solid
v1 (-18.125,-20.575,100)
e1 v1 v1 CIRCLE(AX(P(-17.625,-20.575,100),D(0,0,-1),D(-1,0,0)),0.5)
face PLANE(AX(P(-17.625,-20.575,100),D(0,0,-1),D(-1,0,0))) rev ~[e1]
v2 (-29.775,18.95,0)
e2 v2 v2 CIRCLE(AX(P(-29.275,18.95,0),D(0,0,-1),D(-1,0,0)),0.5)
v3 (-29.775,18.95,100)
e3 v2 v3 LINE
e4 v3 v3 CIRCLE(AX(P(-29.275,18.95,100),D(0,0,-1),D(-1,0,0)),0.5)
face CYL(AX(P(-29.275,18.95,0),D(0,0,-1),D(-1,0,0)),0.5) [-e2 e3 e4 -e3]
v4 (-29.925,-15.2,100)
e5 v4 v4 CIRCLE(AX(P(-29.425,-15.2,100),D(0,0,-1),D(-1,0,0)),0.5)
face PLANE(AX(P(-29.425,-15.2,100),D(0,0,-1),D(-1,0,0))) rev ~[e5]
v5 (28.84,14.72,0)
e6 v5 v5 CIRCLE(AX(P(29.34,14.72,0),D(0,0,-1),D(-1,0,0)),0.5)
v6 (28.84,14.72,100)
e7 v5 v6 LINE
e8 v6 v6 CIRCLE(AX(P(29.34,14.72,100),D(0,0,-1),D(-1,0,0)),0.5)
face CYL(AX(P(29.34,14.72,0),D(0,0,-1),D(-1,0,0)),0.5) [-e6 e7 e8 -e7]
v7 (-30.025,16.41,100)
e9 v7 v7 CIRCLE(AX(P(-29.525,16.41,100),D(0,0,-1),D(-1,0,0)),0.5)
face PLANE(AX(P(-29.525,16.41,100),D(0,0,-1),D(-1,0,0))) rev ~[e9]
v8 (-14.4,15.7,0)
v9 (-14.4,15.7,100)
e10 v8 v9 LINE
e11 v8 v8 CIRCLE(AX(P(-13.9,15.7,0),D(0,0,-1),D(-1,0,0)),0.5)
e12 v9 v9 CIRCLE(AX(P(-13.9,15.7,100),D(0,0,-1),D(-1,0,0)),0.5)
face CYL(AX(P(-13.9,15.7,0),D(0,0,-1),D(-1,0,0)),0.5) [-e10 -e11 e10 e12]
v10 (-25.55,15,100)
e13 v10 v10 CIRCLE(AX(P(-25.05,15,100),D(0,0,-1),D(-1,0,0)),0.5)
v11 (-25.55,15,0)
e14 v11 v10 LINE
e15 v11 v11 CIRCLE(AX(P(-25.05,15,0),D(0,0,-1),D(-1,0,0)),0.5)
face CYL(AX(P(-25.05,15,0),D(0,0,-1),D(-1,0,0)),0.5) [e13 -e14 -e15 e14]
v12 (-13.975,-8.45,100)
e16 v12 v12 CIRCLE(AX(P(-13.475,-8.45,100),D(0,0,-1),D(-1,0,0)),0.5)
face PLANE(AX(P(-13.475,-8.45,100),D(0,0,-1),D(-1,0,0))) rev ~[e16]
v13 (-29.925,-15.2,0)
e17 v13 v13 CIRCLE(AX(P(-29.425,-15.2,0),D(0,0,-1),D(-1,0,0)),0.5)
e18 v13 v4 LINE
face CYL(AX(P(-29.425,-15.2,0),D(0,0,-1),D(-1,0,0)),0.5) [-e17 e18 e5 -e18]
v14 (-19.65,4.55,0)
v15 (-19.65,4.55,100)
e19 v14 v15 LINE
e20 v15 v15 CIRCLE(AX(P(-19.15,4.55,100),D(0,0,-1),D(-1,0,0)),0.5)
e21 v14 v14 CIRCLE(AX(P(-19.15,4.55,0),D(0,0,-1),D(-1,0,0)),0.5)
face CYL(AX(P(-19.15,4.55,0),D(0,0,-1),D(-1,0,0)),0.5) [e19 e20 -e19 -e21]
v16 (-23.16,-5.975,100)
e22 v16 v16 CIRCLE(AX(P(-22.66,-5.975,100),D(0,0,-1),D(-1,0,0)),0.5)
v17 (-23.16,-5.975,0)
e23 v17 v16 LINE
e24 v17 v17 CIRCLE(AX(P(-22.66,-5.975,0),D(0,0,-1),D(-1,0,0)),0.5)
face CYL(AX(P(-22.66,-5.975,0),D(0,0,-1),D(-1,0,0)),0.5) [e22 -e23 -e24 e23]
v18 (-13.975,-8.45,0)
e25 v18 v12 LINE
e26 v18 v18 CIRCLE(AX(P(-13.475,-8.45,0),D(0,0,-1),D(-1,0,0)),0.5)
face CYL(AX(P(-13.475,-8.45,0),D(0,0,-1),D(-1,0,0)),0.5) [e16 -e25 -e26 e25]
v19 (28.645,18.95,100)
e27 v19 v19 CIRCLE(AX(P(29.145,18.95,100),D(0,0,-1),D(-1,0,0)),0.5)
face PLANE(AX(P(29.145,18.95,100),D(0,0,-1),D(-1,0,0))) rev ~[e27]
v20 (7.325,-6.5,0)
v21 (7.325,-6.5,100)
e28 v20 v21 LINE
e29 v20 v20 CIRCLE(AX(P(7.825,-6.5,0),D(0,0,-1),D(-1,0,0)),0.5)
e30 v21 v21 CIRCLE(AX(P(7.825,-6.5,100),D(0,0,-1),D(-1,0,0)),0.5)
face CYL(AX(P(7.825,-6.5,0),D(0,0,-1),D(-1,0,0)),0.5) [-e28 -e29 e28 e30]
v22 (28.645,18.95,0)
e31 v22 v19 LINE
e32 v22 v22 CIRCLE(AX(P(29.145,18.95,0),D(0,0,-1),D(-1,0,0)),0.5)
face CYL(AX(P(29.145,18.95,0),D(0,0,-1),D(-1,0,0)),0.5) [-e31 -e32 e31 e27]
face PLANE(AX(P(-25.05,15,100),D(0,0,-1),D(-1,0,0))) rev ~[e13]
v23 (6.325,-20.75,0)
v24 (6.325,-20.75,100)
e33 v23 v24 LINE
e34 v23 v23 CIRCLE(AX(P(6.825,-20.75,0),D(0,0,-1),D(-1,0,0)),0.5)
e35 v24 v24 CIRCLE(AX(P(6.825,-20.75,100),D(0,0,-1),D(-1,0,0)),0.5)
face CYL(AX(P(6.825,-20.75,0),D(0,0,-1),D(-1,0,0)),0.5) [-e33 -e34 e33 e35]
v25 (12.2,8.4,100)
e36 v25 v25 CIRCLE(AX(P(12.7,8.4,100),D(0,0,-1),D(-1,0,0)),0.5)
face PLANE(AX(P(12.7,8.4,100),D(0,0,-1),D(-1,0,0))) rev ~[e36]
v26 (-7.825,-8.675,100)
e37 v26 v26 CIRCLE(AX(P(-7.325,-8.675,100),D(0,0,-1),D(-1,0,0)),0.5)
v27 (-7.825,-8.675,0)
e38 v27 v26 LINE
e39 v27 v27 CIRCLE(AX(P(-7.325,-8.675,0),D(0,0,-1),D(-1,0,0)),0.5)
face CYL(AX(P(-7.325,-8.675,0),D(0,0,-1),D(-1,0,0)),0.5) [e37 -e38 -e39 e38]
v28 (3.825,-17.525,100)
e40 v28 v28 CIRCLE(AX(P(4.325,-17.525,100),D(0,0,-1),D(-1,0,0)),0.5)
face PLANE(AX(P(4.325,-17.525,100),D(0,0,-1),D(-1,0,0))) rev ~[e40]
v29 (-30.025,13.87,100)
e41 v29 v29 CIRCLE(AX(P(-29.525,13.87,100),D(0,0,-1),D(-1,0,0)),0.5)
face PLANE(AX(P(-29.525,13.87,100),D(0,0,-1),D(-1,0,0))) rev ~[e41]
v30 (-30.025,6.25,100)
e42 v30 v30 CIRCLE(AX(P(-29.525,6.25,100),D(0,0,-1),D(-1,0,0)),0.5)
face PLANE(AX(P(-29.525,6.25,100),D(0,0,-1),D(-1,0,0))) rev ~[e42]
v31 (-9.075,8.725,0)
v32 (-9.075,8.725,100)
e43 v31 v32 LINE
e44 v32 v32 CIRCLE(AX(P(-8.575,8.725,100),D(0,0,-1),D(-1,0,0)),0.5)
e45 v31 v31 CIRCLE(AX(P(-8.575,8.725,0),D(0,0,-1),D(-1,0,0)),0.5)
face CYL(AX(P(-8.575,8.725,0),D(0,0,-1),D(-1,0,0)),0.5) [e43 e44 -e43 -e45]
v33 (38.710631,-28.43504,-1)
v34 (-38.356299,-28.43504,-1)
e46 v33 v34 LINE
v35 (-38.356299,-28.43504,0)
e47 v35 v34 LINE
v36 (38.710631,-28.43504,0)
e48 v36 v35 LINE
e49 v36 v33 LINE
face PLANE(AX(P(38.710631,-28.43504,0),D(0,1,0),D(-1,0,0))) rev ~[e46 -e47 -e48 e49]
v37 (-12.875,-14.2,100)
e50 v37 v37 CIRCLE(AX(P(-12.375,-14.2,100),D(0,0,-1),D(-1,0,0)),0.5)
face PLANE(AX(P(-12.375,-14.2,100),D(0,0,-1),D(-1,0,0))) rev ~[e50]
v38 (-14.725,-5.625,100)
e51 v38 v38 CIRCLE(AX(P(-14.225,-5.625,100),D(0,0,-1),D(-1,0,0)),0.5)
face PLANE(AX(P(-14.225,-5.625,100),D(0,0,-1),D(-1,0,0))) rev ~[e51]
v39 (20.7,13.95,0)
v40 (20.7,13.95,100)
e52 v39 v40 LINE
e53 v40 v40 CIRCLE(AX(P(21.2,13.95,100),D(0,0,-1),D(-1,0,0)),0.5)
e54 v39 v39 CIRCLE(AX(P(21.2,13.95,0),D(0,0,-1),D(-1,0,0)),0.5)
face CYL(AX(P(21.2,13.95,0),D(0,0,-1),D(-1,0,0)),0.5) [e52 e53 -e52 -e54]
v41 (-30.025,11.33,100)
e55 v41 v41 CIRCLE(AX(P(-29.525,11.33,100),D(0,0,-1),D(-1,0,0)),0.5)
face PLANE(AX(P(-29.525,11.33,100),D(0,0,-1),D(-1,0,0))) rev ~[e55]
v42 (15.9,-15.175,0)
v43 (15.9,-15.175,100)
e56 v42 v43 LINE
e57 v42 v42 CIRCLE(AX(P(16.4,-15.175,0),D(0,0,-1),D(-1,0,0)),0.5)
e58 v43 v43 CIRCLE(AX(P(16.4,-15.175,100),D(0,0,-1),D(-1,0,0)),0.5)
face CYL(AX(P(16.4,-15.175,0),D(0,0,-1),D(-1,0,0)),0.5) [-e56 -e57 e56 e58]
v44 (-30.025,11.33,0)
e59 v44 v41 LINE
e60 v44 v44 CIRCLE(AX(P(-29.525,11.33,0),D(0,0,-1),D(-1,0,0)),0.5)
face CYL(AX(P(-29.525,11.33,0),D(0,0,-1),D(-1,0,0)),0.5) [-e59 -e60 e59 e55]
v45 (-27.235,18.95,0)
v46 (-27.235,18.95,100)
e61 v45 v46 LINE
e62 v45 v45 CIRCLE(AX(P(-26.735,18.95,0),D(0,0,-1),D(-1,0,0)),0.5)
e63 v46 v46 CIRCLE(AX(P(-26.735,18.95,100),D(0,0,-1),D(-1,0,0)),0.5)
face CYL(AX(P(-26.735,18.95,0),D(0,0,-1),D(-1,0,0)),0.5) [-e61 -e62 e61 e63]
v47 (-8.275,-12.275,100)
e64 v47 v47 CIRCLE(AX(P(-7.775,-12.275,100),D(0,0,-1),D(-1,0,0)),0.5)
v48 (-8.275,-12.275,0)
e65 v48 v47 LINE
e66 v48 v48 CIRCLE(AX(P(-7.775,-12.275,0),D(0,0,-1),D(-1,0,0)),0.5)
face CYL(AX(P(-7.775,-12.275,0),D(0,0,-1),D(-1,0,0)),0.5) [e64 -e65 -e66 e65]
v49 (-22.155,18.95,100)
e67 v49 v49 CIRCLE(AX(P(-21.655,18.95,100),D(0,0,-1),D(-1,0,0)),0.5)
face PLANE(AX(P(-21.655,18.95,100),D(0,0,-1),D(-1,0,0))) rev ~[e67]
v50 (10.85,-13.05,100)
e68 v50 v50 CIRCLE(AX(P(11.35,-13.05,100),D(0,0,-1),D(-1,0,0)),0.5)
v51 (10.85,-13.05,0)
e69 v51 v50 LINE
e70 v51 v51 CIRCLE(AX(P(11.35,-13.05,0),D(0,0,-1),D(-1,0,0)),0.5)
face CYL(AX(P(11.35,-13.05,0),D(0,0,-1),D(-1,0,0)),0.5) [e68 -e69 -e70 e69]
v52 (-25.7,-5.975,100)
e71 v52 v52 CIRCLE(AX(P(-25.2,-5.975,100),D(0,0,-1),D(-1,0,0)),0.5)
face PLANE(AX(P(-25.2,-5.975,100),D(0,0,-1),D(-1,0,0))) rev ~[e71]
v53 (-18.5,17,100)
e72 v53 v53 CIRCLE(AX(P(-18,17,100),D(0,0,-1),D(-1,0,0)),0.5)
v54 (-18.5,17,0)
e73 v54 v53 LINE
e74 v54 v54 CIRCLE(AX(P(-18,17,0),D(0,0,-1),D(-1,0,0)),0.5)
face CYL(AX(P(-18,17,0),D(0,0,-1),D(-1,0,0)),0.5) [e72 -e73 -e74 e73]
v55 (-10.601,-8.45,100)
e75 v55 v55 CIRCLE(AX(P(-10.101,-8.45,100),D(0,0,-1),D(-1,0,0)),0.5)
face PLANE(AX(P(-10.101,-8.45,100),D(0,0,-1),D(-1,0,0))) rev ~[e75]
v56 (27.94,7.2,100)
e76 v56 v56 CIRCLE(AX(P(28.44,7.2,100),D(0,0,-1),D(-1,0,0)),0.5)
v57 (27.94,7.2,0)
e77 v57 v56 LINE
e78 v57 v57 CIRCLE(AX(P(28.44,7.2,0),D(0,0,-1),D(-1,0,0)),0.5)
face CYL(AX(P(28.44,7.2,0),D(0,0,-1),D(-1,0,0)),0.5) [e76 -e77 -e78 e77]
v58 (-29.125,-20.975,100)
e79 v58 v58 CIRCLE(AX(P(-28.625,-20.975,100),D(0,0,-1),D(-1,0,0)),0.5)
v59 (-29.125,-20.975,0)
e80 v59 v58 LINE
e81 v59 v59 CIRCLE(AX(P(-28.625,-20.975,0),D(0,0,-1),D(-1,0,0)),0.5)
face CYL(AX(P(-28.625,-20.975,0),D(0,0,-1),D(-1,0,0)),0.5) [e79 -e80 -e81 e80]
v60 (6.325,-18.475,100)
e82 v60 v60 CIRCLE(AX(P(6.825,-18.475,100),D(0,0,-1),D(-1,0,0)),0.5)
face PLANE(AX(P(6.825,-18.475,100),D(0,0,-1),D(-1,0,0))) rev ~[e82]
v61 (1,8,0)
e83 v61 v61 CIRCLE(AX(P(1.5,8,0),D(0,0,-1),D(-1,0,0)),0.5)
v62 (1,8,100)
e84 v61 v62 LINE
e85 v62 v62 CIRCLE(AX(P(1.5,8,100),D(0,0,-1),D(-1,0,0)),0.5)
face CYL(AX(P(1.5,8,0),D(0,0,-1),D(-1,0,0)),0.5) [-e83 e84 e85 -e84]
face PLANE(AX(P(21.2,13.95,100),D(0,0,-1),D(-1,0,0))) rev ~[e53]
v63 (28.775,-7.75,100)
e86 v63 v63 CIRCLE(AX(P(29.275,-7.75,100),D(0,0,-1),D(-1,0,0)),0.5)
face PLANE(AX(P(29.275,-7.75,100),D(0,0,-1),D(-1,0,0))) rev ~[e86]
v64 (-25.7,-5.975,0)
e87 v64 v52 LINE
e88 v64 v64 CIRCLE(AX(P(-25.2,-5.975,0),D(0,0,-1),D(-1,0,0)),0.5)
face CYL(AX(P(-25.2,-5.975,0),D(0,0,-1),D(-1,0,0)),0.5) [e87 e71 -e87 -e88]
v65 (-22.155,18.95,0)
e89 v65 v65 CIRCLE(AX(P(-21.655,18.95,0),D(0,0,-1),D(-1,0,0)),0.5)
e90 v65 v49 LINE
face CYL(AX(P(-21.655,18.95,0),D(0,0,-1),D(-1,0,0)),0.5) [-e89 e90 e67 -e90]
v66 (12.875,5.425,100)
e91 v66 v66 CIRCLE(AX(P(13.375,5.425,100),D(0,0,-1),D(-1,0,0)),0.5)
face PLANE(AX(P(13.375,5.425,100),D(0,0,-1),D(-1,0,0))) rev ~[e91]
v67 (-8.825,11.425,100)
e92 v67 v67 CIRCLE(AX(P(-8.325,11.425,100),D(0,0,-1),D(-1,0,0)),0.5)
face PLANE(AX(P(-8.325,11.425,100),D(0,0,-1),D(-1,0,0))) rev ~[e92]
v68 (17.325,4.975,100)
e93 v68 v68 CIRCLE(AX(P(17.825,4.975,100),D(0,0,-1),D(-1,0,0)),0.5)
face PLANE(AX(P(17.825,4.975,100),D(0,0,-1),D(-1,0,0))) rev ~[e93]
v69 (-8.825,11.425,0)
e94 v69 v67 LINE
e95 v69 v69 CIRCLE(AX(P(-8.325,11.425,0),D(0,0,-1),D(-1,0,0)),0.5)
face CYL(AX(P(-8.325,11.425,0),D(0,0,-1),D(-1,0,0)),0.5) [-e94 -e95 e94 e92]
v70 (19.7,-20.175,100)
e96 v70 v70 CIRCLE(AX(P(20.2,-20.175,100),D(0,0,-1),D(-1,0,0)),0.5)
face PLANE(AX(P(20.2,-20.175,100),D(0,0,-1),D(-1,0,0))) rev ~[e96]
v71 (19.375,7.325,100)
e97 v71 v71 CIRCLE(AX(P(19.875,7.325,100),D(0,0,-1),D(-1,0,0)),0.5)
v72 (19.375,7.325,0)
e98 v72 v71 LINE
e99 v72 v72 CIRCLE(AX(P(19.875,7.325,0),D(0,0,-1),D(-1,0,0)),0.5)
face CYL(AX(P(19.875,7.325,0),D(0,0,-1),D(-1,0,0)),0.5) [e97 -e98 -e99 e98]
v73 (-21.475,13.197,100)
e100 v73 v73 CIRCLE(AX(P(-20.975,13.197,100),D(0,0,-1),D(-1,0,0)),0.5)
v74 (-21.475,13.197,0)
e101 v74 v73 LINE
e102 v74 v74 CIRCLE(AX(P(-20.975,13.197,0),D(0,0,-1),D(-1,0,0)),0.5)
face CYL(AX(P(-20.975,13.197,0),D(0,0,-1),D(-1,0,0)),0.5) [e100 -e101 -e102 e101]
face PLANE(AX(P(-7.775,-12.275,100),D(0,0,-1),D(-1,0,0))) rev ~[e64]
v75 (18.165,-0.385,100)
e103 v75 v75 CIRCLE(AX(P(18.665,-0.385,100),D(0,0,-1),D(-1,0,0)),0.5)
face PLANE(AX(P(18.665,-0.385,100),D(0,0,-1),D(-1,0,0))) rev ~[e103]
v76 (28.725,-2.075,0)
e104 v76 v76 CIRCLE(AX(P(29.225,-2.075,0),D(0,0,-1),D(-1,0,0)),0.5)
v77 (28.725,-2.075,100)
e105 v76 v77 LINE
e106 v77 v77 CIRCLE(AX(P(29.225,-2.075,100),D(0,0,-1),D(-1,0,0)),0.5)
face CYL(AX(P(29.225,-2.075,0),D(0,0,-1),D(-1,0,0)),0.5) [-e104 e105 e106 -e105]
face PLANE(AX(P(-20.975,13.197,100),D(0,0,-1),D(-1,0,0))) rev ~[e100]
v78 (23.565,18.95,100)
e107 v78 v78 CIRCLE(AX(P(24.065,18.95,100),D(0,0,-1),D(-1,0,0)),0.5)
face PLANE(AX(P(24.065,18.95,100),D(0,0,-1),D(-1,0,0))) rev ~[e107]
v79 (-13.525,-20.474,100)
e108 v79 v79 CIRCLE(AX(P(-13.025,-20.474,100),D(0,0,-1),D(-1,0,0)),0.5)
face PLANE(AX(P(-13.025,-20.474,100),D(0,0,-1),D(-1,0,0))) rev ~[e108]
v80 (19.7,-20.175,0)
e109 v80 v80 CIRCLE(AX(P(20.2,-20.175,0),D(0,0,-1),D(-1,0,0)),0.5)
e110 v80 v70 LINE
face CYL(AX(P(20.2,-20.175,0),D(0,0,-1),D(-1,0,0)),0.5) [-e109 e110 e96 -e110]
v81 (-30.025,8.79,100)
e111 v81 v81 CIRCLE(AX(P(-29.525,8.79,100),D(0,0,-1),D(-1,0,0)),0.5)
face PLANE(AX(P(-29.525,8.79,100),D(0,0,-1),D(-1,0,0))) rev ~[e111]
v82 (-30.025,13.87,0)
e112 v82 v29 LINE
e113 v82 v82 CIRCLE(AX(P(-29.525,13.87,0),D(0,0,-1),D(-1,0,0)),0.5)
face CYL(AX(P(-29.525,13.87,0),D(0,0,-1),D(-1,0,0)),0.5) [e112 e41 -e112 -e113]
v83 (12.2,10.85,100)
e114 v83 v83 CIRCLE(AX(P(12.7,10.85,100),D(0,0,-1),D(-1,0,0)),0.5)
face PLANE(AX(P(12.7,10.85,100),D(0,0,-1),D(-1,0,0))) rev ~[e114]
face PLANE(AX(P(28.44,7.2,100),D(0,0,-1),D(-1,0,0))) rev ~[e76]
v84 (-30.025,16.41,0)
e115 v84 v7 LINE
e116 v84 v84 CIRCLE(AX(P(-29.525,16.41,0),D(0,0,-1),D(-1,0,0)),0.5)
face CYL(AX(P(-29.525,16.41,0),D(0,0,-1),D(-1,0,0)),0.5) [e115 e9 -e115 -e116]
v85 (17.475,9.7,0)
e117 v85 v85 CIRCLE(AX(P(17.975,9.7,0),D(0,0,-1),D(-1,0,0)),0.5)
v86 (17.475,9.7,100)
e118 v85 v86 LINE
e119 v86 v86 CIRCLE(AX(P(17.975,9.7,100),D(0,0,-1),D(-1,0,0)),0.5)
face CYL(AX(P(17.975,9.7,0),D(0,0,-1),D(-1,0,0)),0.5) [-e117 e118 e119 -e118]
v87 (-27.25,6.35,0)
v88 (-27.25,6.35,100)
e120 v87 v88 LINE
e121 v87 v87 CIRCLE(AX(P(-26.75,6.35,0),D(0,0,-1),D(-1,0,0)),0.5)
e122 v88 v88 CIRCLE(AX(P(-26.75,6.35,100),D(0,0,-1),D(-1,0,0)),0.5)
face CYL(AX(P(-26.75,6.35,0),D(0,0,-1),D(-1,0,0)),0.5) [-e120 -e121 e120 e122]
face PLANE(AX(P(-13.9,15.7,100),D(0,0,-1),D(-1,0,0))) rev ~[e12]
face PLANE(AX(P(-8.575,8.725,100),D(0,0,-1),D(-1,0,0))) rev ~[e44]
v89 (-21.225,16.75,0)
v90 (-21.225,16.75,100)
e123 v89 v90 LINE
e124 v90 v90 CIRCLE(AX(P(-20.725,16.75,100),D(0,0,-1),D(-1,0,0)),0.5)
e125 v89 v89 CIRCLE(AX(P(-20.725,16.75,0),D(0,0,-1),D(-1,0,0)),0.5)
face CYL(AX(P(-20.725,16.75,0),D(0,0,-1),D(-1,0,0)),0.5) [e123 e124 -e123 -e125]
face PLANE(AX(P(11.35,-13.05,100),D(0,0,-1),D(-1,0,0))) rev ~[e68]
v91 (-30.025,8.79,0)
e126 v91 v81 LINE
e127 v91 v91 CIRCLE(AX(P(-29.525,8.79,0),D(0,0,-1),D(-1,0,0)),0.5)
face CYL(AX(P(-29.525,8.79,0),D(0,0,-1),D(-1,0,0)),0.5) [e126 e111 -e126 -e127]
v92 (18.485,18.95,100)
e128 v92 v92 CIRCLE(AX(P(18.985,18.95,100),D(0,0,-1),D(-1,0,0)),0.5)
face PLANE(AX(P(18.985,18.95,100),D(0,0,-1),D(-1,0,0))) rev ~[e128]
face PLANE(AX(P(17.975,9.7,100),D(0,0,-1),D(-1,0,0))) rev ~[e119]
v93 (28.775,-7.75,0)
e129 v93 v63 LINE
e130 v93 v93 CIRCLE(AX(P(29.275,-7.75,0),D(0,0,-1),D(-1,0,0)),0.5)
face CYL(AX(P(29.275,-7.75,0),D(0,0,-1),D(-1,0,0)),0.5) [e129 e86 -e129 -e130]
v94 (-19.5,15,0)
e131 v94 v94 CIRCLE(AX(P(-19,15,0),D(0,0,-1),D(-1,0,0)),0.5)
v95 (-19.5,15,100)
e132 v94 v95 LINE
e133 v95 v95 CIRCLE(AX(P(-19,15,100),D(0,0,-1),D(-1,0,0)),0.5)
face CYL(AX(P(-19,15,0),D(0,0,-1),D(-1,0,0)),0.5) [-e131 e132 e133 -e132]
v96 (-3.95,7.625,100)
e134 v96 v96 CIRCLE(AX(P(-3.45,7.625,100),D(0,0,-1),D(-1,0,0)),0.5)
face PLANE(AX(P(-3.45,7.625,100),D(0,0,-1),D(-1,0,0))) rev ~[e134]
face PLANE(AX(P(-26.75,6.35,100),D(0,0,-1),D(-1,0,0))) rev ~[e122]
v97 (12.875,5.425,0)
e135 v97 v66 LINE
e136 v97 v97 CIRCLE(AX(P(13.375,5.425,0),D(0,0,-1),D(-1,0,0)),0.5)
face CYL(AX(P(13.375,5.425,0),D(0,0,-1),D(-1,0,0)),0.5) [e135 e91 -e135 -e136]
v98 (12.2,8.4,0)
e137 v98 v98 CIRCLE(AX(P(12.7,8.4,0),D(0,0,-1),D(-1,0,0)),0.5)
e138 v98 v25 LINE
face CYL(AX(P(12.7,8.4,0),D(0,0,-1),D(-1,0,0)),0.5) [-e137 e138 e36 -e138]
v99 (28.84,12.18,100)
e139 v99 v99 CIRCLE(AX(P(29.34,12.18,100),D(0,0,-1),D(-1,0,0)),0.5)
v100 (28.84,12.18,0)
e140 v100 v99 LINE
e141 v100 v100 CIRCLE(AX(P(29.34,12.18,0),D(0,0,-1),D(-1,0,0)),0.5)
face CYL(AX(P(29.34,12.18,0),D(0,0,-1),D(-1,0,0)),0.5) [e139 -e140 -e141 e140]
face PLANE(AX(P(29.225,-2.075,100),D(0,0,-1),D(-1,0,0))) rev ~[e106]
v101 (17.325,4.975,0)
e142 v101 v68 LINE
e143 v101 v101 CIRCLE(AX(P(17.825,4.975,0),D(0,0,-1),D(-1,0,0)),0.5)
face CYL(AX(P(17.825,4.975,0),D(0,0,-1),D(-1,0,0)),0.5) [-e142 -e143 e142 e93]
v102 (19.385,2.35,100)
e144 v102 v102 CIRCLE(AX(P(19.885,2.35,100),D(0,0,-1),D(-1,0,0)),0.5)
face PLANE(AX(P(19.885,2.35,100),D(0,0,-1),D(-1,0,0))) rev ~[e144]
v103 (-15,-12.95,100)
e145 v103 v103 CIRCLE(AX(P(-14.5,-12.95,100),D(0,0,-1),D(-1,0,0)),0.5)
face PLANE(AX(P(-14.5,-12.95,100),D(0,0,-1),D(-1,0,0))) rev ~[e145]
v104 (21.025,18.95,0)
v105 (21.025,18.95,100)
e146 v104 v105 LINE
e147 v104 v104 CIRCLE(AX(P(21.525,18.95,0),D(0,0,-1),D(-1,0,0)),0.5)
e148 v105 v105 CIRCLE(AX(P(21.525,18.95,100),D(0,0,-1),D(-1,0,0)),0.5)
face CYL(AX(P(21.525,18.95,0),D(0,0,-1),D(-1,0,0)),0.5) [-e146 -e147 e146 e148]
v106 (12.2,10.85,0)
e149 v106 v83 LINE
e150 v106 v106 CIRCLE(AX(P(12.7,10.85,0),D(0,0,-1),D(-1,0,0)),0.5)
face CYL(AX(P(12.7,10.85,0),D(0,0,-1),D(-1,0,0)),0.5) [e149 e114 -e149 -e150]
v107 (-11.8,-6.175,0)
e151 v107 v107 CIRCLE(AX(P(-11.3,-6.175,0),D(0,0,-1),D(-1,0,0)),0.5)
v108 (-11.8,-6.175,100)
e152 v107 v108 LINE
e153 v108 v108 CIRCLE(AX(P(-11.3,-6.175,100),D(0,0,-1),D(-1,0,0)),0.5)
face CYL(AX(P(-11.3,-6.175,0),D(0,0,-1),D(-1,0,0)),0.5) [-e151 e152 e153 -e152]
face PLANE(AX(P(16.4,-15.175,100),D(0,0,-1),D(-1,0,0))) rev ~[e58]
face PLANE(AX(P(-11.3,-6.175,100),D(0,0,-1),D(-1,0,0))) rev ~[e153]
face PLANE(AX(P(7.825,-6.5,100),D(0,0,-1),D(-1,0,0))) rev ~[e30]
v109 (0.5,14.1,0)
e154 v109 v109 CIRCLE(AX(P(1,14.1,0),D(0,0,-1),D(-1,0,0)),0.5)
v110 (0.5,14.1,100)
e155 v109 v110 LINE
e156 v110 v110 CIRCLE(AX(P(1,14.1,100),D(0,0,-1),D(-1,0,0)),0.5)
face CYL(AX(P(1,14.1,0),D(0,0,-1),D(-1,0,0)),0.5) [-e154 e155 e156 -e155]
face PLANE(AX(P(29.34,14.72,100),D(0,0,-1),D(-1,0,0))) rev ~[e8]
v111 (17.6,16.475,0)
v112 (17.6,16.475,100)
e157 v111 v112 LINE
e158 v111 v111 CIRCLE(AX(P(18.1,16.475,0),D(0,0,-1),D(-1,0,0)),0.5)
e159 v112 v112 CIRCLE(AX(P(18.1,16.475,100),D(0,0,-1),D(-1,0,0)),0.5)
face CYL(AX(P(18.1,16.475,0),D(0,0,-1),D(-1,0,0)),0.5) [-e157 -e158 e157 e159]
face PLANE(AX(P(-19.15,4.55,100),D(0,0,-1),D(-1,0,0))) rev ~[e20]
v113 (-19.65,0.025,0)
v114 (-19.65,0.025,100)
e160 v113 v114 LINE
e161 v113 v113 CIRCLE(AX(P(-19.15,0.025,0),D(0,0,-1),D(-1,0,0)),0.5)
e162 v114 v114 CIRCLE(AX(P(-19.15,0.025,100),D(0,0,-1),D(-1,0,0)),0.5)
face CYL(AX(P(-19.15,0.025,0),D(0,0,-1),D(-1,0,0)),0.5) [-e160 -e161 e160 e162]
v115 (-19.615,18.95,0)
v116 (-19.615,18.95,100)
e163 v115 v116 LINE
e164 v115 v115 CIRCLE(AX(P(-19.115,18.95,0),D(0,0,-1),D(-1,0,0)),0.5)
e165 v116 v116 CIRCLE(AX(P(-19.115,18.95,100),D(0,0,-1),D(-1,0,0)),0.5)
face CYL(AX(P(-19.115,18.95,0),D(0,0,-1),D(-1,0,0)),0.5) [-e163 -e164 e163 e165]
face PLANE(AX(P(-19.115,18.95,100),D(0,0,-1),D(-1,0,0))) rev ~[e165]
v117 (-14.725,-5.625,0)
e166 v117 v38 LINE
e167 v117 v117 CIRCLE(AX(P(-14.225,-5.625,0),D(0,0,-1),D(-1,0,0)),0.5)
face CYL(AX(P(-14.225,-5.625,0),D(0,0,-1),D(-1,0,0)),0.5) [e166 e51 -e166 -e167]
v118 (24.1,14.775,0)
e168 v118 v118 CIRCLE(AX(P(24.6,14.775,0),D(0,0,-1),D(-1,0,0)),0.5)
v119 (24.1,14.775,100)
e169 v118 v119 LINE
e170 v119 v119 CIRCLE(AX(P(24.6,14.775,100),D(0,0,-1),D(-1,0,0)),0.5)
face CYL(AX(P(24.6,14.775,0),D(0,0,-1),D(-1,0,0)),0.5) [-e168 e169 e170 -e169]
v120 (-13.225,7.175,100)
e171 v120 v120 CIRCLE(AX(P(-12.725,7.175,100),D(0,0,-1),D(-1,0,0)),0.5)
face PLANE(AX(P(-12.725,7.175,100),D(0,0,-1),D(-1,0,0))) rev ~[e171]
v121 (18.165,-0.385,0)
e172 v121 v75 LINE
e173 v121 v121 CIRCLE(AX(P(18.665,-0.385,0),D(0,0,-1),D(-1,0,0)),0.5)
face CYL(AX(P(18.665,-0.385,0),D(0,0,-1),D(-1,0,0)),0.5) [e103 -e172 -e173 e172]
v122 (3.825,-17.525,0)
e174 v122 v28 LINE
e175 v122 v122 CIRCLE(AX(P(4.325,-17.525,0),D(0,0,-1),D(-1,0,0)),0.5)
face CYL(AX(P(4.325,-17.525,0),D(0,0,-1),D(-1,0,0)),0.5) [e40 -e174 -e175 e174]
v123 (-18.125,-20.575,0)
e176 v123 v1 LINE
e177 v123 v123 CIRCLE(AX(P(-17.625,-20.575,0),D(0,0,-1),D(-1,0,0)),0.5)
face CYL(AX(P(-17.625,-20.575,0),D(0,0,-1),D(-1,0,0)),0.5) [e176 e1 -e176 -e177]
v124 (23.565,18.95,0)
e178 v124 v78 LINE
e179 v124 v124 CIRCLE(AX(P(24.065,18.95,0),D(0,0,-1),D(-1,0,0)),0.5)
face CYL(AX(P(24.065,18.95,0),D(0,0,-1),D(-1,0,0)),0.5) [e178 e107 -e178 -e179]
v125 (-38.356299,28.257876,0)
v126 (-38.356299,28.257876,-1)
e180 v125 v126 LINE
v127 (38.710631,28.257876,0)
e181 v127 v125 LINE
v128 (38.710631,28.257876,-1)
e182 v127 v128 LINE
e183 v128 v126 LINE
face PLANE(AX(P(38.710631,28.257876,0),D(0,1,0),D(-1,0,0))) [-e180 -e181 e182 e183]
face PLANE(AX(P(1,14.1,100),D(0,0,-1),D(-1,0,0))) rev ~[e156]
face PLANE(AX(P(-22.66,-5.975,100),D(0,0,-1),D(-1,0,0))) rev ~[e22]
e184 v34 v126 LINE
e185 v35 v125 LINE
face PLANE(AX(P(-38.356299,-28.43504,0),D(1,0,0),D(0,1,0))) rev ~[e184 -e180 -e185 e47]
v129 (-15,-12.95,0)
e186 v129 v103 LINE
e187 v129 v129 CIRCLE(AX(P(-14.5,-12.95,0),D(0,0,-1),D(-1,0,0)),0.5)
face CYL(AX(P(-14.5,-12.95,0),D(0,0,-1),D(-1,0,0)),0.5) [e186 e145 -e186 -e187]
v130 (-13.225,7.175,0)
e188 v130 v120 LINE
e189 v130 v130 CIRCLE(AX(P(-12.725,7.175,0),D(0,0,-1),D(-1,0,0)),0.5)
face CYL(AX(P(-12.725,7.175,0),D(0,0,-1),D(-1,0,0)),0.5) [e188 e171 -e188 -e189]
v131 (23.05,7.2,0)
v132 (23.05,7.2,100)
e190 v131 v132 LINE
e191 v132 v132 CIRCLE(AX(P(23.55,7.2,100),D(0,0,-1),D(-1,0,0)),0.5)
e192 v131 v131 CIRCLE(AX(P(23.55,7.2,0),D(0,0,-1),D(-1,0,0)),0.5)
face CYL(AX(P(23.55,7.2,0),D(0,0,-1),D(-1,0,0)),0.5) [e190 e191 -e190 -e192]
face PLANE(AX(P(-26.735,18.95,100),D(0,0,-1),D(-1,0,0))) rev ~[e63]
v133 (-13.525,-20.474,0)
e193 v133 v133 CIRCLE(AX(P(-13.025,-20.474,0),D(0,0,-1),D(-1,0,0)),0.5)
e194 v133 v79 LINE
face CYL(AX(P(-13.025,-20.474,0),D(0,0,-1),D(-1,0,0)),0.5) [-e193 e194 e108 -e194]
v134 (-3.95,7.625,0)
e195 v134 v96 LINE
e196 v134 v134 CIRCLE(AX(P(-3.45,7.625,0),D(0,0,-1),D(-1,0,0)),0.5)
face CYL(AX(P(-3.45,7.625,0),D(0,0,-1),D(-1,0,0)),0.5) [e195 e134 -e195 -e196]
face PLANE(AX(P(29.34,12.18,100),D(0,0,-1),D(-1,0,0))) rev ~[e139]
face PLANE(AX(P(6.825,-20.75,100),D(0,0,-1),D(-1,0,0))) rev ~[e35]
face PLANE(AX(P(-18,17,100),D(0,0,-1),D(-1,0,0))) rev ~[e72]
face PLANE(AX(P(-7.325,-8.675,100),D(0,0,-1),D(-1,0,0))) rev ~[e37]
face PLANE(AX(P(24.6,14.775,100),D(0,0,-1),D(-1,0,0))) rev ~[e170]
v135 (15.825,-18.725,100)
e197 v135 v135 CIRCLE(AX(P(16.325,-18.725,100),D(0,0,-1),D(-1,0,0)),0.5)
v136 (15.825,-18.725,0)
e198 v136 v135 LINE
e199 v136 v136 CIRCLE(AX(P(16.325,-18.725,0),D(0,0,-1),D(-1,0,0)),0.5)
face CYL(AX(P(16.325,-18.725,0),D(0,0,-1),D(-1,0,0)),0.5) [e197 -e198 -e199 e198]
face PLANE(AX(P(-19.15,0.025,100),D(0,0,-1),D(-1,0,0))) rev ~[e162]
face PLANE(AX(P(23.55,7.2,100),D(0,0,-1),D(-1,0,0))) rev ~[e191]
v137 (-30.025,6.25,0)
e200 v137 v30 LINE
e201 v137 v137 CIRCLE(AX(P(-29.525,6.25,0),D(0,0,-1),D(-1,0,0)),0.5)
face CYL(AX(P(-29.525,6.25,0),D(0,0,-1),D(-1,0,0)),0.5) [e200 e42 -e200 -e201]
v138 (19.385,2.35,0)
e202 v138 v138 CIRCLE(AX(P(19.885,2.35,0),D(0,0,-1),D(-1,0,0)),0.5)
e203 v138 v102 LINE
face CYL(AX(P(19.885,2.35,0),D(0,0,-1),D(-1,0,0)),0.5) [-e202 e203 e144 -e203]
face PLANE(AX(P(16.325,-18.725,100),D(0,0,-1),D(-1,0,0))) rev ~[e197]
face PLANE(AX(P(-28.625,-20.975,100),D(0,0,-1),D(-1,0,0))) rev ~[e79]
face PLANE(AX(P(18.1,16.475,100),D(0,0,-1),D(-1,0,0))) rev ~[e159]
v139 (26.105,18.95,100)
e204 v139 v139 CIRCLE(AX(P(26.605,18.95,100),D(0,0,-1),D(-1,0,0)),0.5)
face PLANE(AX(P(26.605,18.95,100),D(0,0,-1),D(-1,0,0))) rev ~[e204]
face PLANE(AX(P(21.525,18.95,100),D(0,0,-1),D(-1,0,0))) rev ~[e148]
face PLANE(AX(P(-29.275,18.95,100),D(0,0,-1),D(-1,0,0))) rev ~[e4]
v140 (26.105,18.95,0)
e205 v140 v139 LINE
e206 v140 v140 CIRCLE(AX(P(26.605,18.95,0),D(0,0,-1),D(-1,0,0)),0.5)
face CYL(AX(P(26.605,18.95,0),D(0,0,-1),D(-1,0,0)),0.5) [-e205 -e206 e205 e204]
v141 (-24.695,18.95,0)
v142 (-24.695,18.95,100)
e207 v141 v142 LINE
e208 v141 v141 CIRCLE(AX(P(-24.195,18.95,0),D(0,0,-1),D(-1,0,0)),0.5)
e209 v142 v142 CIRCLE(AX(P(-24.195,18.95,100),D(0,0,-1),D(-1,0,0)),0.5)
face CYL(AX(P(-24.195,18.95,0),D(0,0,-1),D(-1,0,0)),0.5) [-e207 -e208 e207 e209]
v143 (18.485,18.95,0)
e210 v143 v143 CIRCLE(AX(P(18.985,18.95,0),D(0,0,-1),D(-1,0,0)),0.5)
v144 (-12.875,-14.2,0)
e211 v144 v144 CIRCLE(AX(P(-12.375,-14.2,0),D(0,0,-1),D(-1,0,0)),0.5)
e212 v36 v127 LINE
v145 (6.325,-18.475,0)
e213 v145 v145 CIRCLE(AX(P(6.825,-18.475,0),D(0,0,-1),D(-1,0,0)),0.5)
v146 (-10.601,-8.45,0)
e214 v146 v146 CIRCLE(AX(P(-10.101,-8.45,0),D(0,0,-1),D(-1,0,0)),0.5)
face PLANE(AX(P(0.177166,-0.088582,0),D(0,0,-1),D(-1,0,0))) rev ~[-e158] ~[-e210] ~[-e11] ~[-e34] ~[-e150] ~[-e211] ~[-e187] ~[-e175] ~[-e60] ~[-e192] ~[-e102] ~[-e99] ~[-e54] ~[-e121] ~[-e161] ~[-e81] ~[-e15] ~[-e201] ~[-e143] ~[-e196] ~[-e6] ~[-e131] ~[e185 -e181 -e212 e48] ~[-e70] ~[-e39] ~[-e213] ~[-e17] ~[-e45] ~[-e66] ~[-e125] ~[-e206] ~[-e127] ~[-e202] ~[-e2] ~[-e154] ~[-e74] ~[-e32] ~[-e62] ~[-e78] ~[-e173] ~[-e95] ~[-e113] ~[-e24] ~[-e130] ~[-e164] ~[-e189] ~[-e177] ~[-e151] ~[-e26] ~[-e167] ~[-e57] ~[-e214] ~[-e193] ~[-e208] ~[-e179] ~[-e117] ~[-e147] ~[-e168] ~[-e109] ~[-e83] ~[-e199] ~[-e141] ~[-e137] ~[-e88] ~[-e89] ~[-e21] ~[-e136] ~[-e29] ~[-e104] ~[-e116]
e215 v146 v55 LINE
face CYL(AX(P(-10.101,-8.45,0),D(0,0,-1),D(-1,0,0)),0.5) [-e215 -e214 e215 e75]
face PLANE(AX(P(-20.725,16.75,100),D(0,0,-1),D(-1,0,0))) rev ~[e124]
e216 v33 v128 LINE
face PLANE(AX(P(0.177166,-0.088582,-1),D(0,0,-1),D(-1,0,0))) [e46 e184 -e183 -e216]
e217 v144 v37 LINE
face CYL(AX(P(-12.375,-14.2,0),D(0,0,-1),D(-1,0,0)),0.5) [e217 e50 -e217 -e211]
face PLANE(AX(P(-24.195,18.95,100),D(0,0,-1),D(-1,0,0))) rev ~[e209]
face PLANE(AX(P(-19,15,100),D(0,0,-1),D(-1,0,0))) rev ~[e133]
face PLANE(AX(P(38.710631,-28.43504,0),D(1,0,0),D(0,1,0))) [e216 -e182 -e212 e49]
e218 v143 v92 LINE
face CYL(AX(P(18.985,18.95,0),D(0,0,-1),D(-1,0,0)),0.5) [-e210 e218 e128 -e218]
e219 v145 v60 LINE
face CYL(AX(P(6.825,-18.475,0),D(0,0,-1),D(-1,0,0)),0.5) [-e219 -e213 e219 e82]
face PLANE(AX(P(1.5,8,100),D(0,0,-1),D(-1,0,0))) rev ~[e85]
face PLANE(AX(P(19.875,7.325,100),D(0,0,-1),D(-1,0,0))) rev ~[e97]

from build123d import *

# Parameters (mm, degrees)
F1_W     = 77.066931
F1_H     = 56.692917
F2_DEPTH = 1
F0_R     = 0.5
F3_DEPTH = 100
F5_ANGLE = 180


with BuildPart() as f2:
    # F1 (on Top) → F2 (new body)
    with BuildSketch(Plane.XY):
        with Locations((-0.177166, -0.088582)):
            Rectangle(F1_W, F1_H)
    extrude(amount=F2_DEPTH)

    # F0 (on Top) → F3 (join)
    with BuildSketch(Plane.XY):
        with Locations((-18.665, -0.385)):
            Circle(F0_R)
        with Locations((-17.975, 9.7)):
            Circle(F0_R)
        with Locations((-19.885, 2.35)):
            Circle(F0_R)
        with Locations((-23.55, 7.2)):
            Circle(F0_R)
        with Locations((-19.875, 7.325)):
            Circle(F0_R)
        with Locations((-18.985, 18.95)):
            Circle(F0_R)
        with Locations((-26.605, 18.95)):
            Circle(F0_R)
        with Locations((-21.525, 18.95)):
            Circle(F0_R)
        with Locations((-29.145, 18.95)):
            Circle(F0_R)
        with Locations((-24.065, 18.95)):
            Circle(F0_R)
        with Locations((-18.1, 16.475)):
            Circle(F0_R)
        with Locations((-4.325, -17.525)):
            Circle(F0_R)
        with Locations((-6.825, -18.475)):
            Circle(F0_R)
        with Locations((-24.6, 14.775)):
            Circle(F0_R)
        with Locations((29.525, 16.41)):
            Circle(F0_R)
        with Locations((29.525, 13.87)):
            Circle(F0_R)
        with Locations((-21.2, 13.95)):
            Circle(F0_R)
        with Locations((29.525, 6.25)):
            Circle(F0_R)
        with Locations((-29.225, -2.075)):
            Circle(F0_R)
        with Locations((-16.325, -18.725)):
            Circle(F0_R)
        with Locations((3.45, 7.625)):
            Circle(F0_R)
        with Locations((-6.825, -20.75)):
            Circle(F0_R)
        with Locations((-29.275, -7.75)):
            Circle(F0_R)
        with Locations((-11.35, -13.05)):
            Circle(F0_R)
        with Locations((18, 17)):
            Circle(F0_R)
        with Locations((25.05, 15)):
            Circle(F0_R)
        with Locations((20.725, 16.75)):
            Circle(F0_R)
        with Locations((19, 15)):
            Circle(F0_R)
        with Locations((13.475, -8.45)):
            Circle(F0_R)
        with Locations((10.101, -8.45)):
            Circle(F0_R)
        with Locations((11.3, -6.175)):
            Circle(F0_R)
        with Locations((7.775, -12.275)):
            Circle(F0_R)
        with Locations((8.325, 11.425)):
            Circle(F0_R)
        with Locations((8.575, 8.725)):
            Circle(F0_R)
        with Locations((13.9, 15.7)):
            Circle(F0_R)
        with Locations((12.725, 7.175)):
            Circle(F0_R)
        with Locations((14.225, -5.625)):
            Circle(F0_R)
        with Locations((21.655, 18.95)):
            Circle(F0_R)
        with Locations((26.735, 18.95)):
            Circle(F0_R)
        with Locations((19.115, 18.95)):
            Circle(F0_R)
        with Locations((24.195, 18.95)):
            Circle(F0_R)
        with Locations((29.275, 18.95)):
            Circle(F0_R)
        with Locations((20.975, 13.197)):
            Circle(F0_R)
        with Locations((-29.34, 12.18)):
            Circle(F0_R)
        with Locations((29.525, 11.33)):
            Circle(F0_R)
        with Locations((-29.34, 14.72)):
            Circle(F0_R)
        with Locations((29.525, 8.79)):
            Circle(F0_R)
        with Locations((-1.5, 8)):
            Circle(F0_R)
        with Locations((-1, 14.1)):
            Circle(F0_R)
        with Locations((-7.825, -6.5)):
            Circle(F0_R)
        with Locations((-28.44, 7.2)):
            Circle(F0_R)
        with Locations((26.75, 6.35)):
            Circle(F0_R)
        with Locations((19.15, 4.55)):
            Circle(F0_R)
        with Locations((12.375, -14.2)):
            Circle(F0_R)
        with Locations((29.425, -15.2)):
            Circle(F0_R)
        with Locations((28.625, -20.975)):
            Circle(F0_R)
        with Locations((17.625, -20.575)):
            Circle(F0_R)
        with Locations((13.025, -20.474)):
            Circle(F0_R)
        with Locations((-13.375, 5.425)):
            Circle(F0_R)
        with Locations((-20.2, -20.175)):
            Circle(F0_R)
        with Locations((25.2, -5.975)):
            Circle(F0_R)
        with Locations((22.66, -5.975)):
            Circle(F0_R)
        with Locations((19.15, 0.025)):
            Circle(F0_R)
        with Locations((14.5, -12.95)):
            Circle(F0_R)
        with Locations((7.325, -8.675)):
            Circle(F0_R)
        with Locations((-12.7, 10.85)):
            Circle(F0_R)
        with Locations((-12.7, 8.4)):
            Circle(F0_R)
        with Locations((-17.825, 4.975)):
            Circle(F0_R)
        with Locations((-16.4, -15.175)):
            Circle(F0_R)
    extrude(amount=-F3_DEPTH)


with BuildPart() as f2_1:
    # F5: moved
    add(f2.part.rotate(Axis((0, 0.08858, 0), (0, -1, 0)), F5_ANGLE))


solid = f2_1.part
